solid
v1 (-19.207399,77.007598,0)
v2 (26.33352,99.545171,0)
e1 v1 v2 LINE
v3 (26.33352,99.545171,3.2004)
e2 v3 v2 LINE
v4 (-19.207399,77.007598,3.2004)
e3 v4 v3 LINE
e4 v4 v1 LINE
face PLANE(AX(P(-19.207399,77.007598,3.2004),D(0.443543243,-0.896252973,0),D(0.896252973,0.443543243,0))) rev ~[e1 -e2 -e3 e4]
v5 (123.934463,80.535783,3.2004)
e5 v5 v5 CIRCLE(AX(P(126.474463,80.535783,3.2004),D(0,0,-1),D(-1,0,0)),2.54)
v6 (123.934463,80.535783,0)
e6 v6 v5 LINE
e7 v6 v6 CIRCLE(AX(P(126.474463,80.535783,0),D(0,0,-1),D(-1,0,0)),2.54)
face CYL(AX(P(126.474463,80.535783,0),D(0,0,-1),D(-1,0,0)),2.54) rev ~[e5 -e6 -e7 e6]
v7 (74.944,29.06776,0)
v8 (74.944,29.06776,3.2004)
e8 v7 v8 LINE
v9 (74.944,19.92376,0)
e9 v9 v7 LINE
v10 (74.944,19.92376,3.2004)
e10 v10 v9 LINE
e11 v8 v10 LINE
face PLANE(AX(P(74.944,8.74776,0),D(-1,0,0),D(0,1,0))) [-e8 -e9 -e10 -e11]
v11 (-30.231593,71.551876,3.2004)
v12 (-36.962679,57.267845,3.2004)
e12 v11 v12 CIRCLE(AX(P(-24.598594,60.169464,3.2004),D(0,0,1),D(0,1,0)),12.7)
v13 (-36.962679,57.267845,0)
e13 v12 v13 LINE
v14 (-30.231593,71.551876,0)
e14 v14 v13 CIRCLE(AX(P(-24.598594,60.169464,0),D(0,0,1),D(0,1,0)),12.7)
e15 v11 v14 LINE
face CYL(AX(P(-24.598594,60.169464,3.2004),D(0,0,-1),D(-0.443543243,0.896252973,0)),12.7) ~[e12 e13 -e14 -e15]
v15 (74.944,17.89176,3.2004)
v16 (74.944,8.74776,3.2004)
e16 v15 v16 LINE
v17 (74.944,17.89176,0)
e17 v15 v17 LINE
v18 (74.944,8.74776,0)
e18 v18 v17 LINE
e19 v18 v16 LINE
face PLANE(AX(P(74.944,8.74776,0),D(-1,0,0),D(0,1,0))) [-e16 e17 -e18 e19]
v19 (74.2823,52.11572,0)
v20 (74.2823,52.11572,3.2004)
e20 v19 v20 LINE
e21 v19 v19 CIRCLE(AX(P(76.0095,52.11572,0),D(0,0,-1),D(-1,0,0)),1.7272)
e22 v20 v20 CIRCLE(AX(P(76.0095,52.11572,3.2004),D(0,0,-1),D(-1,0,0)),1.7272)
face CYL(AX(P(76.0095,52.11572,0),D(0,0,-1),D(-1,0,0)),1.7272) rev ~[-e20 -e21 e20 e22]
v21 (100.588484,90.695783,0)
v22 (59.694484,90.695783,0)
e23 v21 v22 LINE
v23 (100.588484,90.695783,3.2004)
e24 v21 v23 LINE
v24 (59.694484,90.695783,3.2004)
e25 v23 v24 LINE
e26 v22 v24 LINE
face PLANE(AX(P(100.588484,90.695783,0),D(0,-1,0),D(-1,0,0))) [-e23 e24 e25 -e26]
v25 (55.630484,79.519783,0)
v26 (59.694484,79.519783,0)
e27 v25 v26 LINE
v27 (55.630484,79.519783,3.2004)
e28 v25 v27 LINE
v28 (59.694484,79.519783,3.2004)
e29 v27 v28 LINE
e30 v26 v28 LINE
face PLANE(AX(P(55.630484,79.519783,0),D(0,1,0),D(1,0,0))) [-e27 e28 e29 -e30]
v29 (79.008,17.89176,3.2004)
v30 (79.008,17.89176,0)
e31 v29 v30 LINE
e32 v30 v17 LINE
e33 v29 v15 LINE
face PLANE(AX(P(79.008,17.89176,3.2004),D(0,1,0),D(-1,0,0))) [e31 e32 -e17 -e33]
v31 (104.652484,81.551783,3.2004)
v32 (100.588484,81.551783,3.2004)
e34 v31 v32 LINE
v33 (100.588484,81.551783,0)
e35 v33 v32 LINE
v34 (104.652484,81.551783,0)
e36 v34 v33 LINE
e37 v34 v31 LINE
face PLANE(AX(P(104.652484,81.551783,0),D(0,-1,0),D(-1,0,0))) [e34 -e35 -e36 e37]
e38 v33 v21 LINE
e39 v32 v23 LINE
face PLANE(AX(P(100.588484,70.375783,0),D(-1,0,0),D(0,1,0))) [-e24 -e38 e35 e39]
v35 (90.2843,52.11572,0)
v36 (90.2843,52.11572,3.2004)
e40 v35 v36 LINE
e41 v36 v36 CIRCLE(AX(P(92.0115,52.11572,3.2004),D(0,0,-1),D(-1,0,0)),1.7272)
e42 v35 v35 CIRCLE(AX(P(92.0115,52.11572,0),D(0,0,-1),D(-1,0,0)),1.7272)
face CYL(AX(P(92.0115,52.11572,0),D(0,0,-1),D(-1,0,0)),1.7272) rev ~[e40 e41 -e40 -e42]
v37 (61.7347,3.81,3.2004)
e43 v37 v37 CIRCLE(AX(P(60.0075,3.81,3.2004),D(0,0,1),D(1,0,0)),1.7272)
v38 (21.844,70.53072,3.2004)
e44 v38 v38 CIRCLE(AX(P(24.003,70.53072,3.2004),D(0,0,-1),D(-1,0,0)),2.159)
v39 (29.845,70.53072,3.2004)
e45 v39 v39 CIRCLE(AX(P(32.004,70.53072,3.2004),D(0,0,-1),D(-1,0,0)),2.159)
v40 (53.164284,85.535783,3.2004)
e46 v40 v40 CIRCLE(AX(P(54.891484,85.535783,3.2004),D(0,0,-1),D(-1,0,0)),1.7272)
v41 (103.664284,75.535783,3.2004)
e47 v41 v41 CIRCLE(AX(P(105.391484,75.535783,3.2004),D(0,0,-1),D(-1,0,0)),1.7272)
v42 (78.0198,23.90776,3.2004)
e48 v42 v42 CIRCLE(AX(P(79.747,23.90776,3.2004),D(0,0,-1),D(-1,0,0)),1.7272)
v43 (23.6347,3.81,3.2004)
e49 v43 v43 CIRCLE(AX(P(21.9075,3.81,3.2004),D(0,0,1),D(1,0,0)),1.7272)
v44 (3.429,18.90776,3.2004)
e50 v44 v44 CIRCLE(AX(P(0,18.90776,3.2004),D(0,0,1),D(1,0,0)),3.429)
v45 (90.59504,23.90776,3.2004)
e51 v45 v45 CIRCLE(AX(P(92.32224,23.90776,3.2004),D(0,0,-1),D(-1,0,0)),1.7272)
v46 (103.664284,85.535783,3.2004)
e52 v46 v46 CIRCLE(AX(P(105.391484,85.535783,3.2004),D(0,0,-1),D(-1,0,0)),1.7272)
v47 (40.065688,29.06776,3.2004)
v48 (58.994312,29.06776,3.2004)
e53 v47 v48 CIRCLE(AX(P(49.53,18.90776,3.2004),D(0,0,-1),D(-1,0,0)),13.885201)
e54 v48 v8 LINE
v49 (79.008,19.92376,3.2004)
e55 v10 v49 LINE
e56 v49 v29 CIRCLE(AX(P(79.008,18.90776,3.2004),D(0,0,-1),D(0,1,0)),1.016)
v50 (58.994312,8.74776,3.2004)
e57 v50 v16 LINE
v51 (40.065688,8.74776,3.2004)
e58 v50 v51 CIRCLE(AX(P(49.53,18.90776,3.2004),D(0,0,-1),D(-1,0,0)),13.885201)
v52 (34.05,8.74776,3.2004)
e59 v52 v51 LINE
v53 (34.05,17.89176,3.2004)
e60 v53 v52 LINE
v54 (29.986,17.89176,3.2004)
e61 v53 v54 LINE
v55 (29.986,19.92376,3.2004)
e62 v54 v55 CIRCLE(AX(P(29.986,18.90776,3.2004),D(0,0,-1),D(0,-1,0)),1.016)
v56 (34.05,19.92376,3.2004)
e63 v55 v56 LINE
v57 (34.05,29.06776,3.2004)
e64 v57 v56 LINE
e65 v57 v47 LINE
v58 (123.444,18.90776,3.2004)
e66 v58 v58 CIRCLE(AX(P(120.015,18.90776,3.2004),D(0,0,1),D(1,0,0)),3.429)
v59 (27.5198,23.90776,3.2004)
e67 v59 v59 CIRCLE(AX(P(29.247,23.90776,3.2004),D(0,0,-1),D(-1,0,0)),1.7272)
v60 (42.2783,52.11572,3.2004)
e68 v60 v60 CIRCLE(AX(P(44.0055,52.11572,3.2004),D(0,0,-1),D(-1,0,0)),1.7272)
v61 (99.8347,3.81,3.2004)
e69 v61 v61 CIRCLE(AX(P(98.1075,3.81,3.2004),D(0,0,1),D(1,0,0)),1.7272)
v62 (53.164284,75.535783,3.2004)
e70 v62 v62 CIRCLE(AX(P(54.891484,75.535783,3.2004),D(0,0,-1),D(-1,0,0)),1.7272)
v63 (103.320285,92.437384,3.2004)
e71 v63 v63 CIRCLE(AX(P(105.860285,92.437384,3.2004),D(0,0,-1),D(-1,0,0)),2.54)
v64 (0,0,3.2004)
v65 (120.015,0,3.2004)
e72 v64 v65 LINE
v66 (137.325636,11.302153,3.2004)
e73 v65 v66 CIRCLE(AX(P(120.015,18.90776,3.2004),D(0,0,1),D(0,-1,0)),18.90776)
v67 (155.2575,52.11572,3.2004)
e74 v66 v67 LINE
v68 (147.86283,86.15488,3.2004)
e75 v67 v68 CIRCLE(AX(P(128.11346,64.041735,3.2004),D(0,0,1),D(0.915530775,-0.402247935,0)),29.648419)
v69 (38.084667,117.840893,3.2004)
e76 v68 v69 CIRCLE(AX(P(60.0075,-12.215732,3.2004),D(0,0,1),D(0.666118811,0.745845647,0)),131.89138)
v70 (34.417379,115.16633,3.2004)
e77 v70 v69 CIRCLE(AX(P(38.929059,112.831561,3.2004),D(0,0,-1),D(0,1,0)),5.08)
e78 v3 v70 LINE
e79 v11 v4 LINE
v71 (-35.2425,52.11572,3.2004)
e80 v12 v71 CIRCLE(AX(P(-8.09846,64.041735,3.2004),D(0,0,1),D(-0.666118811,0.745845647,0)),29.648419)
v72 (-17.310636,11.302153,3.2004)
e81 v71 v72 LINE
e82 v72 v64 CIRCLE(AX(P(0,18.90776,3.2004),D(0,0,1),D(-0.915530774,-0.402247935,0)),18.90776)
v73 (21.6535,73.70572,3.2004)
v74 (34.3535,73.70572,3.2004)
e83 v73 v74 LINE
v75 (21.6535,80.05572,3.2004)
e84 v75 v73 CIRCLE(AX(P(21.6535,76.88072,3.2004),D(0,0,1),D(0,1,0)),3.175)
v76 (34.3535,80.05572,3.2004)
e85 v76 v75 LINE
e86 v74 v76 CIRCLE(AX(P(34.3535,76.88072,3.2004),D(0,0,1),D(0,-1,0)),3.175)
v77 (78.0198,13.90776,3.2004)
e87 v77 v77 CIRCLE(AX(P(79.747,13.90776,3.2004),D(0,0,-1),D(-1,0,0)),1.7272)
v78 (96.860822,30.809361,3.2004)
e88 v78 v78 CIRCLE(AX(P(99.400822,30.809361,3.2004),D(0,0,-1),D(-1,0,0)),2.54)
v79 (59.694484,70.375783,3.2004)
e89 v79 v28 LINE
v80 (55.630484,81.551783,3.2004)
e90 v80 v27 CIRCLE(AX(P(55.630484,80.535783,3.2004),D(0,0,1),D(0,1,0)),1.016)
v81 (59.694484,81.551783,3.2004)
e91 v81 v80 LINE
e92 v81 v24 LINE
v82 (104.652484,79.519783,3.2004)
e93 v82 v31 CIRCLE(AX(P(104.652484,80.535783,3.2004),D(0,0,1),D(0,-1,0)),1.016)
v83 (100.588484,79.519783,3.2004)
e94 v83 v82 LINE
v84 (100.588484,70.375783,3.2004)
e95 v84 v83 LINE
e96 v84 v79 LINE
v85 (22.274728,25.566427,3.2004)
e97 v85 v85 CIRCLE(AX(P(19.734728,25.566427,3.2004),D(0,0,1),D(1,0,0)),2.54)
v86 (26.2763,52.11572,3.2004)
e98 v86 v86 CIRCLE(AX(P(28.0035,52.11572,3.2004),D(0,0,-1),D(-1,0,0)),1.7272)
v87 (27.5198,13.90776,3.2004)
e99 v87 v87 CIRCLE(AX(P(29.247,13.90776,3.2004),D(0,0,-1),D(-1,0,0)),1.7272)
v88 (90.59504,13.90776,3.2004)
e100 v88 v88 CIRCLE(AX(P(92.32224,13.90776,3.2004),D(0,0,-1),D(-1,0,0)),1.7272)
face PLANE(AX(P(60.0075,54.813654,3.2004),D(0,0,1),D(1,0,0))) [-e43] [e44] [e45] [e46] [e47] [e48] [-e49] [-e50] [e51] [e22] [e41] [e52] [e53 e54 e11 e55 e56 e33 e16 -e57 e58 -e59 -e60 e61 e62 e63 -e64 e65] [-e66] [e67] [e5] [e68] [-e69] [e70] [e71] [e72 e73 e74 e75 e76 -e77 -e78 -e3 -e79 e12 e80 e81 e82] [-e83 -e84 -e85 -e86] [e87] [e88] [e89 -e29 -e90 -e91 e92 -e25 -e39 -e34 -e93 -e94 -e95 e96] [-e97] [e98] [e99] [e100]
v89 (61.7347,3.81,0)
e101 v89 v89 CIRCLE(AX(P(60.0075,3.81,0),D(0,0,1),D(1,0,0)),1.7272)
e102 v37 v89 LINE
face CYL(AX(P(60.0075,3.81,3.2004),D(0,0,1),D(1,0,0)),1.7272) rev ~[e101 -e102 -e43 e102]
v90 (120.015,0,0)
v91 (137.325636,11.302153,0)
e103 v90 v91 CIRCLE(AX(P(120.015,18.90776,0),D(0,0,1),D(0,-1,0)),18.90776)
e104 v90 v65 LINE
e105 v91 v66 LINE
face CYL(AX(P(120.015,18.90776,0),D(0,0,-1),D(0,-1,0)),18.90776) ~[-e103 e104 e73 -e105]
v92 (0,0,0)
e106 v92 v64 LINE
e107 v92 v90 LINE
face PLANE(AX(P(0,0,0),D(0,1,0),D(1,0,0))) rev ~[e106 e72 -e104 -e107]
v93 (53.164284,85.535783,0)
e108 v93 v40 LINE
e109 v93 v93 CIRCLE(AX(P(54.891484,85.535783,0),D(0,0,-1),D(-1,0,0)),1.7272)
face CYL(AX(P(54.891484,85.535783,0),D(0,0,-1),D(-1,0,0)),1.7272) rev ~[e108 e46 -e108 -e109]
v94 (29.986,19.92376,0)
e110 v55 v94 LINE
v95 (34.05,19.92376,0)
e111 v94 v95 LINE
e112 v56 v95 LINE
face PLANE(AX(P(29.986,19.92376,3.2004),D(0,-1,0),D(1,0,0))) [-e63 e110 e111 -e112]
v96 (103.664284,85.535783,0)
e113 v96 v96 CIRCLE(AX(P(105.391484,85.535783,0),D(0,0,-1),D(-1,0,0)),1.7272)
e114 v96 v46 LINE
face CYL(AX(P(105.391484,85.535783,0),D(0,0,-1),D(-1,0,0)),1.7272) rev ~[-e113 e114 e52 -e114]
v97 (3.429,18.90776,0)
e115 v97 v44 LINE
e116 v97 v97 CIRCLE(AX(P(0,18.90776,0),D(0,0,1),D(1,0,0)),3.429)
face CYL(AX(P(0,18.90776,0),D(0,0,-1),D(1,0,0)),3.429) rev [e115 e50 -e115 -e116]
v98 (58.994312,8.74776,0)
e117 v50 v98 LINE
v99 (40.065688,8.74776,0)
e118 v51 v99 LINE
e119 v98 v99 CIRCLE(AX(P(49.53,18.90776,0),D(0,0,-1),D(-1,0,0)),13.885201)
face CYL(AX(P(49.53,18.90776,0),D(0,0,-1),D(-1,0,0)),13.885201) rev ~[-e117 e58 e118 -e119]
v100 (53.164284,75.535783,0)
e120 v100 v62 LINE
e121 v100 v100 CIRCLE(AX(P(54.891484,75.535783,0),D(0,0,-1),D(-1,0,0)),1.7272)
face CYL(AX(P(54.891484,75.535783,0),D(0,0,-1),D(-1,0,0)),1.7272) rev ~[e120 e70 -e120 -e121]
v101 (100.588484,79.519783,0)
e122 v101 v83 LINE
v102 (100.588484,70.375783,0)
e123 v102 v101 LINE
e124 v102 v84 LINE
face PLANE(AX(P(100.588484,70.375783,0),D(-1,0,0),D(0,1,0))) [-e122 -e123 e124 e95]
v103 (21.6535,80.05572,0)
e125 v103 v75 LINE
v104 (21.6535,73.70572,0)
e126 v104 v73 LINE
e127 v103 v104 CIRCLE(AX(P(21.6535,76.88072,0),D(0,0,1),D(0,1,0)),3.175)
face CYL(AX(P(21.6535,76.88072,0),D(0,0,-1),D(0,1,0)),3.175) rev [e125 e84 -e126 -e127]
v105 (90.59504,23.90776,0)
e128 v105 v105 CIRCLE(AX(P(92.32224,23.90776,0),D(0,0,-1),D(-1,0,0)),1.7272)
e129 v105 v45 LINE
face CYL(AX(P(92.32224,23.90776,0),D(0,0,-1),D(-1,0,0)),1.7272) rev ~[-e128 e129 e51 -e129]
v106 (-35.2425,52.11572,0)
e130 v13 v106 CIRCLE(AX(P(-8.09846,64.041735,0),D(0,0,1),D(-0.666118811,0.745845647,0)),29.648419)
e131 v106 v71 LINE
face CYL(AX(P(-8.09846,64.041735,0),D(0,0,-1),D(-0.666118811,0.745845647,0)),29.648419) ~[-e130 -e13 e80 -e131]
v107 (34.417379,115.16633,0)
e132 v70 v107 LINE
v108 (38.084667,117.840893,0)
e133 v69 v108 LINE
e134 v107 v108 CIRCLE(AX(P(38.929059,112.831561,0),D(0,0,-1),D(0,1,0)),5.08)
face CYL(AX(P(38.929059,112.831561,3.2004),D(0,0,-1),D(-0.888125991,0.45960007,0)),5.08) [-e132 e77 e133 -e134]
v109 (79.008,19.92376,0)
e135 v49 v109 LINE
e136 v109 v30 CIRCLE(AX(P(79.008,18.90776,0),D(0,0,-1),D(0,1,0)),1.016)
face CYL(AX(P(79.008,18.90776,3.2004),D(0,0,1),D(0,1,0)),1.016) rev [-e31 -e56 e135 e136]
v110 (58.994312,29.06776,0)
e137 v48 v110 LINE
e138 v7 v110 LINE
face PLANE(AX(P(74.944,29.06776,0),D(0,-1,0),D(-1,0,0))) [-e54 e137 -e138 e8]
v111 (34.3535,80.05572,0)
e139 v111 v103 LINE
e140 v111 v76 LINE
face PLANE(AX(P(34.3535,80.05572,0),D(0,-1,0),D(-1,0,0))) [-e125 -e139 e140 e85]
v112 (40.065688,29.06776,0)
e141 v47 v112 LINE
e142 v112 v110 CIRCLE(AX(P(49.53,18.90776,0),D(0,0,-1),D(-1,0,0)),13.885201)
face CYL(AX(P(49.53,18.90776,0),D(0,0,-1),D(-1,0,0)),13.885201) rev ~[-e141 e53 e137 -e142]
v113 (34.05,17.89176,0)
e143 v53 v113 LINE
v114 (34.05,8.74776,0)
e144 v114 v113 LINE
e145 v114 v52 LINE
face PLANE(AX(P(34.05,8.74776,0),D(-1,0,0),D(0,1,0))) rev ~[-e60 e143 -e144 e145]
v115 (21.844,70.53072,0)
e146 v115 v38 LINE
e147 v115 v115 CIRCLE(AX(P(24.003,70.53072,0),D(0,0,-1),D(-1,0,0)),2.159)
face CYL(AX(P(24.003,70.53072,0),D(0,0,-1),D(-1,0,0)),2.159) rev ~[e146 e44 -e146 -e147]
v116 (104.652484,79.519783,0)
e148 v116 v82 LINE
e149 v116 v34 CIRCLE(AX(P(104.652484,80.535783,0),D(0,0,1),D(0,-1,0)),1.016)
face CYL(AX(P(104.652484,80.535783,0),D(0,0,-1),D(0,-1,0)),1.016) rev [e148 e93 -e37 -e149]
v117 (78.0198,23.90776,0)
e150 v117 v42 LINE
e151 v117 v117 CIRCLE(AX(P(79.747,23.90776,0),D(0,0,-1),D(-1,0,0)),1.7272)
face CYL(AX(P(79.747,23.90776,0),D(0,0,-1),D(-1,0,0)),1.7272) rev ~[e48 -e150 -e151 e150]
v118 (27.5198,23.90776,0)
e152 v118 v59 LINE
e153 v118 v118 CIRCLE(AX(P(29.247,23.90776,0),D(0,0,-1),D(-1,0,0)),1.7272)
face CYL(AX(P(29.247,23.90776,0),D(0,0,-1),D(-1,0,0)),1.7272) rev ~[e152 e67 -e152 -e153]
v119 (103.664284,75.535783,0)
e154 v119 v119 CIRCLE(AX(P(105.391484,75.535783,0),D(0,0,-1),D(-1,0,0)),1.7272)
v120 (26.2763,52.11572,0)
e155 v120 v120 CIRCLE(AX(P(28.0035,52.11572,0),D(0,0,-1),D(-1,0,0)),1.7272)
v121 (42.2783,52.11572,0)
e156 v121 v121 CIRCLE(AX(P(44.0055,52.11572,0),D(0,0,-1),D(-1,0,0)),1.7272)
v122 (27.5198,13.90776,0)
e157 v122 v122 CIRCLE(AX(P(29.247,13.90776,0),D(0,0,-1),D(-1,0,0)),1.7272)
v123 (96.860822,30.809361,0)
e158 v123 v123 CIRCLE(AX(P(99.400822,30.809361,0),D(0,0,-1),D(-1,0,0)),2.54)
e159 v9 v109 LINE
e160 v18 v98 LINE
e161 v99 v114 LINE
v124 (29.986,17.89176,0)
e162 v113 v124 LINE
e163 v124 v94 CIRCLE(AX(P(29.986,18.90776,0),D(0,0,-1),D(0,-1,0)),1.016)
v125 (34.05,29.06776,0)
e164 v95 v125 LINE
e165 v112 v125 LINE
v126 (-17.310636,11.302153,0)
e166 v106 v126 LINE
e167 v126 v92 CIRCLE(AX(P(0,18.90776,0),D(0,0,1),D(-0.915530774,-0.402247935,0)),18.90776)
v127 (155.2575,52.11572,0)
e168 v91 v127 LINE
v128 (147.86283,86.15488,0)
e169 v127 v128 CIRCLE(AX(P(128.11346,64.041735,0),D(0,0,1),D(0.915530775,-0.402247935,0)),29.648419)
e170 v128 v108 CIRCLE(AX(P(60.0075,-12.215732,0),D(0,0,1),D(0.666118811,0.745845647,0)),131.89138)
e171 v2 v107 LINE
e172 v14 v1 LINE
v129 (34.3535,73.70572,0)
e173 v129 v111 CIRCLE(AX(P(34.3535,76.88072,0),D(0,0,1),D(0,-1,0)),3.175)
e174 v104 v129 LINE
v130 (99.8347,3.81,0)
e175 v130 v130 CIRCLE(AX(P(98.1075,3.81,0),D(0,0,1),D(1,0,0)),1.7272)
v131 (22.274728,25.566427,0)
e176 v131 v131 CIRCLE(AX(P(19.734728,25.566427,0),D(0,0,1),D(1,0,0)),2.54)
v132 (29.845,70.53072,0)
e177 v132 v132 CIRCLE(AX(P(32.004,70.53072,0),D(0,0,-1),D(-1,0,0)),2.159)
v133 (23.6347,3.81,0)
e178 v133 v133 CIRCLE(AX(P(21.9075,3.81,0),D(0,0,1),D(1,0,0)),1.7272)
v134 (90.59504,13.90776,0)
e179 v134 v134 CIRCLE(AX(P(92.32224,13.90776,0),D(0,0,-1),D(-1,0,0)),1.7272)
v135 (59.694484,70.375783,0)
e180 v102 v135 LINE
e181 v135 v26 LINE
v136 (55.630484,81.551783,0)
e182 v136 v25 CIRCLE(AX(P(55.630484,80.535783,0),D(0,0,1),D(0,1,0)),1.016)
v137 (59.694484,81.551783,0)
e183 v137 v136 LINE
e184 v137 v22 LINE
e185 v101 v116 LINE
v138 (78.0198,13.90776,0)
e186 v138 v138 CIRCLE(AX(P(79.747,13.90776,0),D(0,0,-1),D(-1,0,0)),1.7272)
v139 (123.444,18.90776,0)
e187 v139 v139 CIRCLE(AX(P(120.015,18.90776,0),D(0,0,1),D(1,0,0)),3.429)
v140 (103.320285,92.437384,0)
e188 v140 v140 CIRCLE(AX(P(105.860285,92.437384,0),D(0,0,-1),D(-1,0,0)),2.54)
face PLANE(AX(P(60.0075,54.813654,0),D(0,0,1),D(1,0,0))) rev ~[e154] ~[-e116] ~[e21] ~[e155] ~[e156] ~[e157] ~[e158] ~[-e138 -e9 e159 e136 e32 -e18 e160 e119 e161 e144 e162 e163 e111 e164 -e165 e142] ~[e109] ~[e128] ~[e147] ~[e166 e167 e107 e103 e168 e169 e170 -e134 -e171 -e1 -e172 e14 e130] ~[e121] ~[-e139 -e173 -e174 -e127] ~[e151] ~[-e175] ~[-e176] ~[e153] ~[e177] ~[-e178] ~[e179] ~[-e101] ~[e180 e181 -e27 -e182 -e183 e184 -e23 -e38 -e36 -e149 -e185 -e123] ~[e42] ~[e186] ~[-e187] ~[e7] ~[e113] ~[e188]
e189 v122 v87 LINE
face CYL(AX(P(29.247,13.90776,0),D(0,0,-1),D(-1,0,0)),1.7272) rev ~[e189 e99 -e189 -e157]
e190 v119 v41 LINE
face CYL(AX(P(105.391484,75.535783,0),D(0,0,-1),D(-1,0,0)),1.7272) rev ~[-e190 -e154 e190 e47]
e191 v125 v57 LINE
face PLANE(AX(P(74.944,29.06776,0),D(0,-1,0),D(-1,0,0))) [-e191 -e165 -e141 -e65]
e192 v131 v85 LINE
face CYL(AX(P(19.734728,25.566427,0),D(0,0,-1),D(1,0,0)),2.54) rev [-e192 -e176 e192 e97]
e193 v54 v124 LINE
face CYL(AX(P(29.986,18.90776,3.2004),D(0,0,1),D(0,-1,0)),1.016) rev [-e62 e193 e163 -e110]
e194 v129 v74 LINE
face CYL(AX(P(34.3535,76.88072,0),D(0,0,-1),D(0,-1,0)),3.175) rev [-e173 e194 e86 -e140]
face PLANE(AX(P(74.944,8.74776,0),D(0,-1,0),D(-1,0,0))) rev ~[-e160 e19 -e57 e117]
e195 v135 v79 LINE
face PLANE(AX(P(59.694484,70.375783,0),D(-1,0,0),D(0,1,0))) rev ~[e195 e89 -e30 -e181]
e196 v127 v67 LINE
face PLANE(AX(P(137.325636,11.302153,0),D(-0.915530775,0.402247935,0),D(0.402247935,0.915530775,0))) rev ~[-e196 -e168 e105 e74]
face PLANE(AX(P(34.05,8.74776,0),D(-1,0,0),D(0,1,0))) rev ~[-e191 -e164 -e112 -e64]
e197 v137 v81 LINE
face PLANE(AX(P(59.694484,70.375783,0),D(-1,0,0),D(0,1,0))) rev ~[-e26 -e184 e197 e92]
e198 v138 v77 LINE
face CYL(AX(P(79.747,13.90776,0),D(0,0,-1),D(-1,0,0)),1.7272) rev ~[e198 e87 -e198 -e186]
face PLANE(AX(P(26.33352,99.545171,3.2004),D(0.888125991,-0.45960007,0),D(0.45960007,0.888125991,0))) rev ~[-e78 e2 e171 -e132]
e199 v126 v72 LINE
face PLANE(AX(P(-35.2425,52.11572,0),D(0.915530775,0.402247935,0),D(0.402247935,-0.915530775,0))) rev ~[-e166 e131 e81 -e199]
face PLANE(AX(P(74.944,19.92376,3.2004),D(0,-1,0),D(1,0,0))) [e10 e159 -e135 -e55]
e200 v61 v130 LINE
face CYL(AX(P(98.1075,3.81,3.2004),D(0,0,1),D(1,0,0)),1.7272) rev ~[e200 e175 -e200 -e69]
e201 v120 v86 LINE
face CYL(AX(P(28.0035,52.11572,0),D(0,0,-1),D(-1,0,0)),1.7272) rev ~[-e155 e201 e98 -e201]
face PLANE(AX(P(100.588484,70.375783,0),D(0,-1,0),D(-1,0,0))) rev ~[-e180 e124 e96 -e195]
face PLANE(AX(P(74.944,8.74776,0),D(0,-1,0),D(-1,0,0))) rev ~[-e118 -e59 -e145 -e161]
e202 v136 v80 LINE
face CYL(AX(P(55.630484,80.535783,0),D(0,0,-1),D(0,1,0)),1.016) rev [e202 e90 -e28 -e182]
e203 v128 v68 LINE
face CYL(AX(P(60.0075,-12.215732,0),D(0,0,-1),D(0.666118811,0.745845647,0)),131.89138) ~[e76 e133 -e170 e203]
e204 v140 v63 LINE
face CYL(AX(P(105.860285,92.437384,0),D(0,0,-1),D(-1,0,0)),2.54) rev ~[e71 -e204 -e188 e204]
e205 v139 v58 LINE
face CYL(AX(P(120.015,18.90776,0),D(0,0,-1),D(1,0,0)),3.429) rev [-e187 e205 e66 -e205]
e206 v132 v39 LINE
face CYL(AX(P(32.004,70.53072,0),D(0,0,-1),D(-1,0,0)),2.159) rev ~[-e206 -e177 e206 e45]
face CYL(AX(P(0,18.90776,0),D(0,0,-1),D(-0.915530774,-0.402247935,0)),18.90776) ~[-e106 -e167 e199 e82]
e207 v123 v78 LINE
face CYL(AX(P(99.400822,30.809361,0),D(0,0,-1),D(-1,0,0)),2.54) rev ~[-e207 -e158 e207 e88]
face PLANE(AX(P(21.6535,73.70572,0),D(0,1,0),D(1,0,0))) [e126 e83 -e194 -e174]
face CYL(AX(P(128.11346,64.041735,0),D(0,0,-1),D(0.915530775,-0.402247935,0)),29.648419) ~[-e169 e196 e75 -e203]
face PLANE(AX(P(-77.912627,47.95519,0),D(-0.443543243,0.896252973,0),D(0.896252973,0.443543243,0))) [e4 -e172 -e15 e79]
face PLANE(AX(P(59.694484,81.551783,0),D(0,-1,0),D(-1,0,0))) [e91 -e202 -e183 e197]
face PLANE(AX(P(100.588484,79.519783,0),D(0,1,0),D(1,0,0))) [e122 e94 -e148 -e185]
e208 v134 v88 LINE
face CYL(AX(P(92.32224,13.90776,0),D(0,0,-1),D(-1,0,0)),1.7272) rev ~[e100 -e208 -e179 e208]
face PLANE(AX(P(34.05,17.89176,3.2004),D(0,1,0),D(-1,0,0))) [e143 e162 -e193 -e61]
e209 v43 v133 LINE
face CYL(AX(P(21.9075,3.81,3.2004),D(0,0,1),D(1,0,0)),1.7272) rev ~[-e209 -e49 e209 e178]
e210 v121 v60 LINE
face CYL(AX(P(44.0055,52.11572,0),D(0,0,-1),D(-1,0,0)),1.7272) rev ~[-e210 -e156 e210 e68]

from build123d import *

# Parameters (mm, degrees)
SKETCH1_R           = 3.429
SKETCH1_R_2         = 2.54
BOSS_EXTRUDE1_DEPTH = 3.2004
SKETCH2_R           = 1.7272
CUT_EXTRUDE1_DEPTH  = 3.2004
SKETCH5_R           = 1.7272
SKETCH5_W           = 40.894
SKETCH5_H           = 20.32
CUT_EXTRUDE3_DEPTH  = 4.2004
CUT_EXTRUDE4_DEPTH  = 3.2004
SKETCH8_R           = 1.7272
CUT_EXTRUDE6_DEPTH  = 3.2004
SKETCH9_R           = 1.7272
SKETCH9_R_2         = 2.54
SKETCH9_W           = 40.894
SKETCH9_H           = 20.32
CUT_EXTRUDE8_DEPTH  = 3.2004
CUT_EXTRUDE9_DEPTH  = 3.2004
FILLET1_R           = 5.08
SKETCH11_R          = 2.159
CUT_EXTRUDE10_DEPTH = 3.2004
CUT_EXTRUDE11_DEPTH = 3.2004
SKETCH13_R          = 13.885201093
CUT_EXTRUDE12_DEPTH = 3.2004
SKETCH14_R          = 2.54
CUT_EXTRUDE13_DEPTH = 3.2004
CUT_EXTRUDE14_DEPTH = 3.2004
FILLET2_R           = 12.7


with BuildPart() as part:
    # Sketch1 → Boss-Extrude1 (new body)
    with BuildSketch(Plane.XY):
        with BuildLine():
            Line((0, 0), (120.015, 0))
            ThreePointArc((120.015, 0), (130.351788396, 3.075697789), (137.325636158, 11.302152592))
            Line((137.325636158, 11.302152592), (155.2575, 52.11572))
            ThreePointArc((155.2575, 52.11572), (157.08610336, 70.335755455), (147.862829504, 86.154880008))
            ThreePointArc((147.862829504, 86.154880008), (60.0075, 119.675648416), (-27.847829504, 86.154880008))
            ThreePointArc((-27.847829504, 86.154880008), (-37.07110336, 70.335755455), (-35.2425, 52.11572))
            Line((-35.2425, 52.11572), (-17.310636158, 11.302152592))
            ThreePointArc((-17.310636158, 11.302152592), (-10.336788396, 3.075697789), (0, 0))
        make_face()
        with Locations((120.015, 18.90776)):
            Circle(SKETCH1_R, mode=Mode.SUBTRACT)
        with Locations((0, 18.90776)):
            Circle(SKETCH1_R, mode=Mode.SUBTRACT)
        with Locations((19.734727626, 25.566426992)):
            Circle(SKETCH1_R_2, mode=Mode.SUBTRACT)
    extrude(amount=BOSS_EXTRUDE1_DEPTH)

    # Sketch2 → Cut-Extrude1 (cut)
    with BuildSketch(Plane(origin=(0, 0, 0), x_dir=(-1, 0, 0), z_dir=(0, 0, -1))):
        with Locations((-92.0115, 52.11572)):
            Circle(SKETCH2_R)
        with Locations((-76.0095, 52.11572)):
            Circle(SKETCH2_R)
        with Locations((-44.0055, 52.11572)):
            Circle(SKETCH2_R)
        with Locations((-28.0035, 52.11572)):
            Circle(SKETCH2_R)
    extrude(amount=-CUT_EXTRUDE1_DEPTH, mode=Mode.SUBTRACT)

    # Sketch5 → Cut-Extrude3 (cut, through all)
    with BuildSketch(Plane(origin=(0, 0, 0), x_dir=(-1, 0, 0), z_dir=(0, 0, -1))):
        with Locations((-79.746999972, 23.90776)):
            Circle(SKETCH5_R)
        with Locations((-29.246999972, 13.90776)):
            Circle(SKETCH5_R)
        with Locations((-29.246999972, 23.90776)):
            Circle(SKETCH5_R)
        with Locations((-79.746999972, 13.90776)):
            Circle(SKETCH5_R)
        with Locations((-92.322240346, 23.90776)):
            Circle(SKETCH5_R)
        with Locations((-92.322240346, 13.90776)):
            Circle(SKETCH5_R)
        with Locations((-54.496999972, 18.90776)):
            Rectangle(SKETCH5_W, SKETCH5_H)
    extrude(amount=-CUT_EXTRUDE3_DEPTH, mode=Mode.SUBTRACT)

    # Sketch6 → Cut-Extrude4 (cut)
    with BuildSketch(Plane.XY.offset(3.2004)):
        with BuildLine():
            Line((29.985999972, 19.92376), (34.049999972, 19.92376))
            Line((34.049999972, 19.92376), (34.049999972, 17.89176))
            Line((34.049999972, 17.89176), (29.985999972, 17.89176))
            ThreePointArc((29.985999972, 17.89176), (28.969999972, 18.90776), (29.985999972, 19.92376))
        make_face()
        with BuildLine():
            Line((74.943999972, 19.92376), (79.007999972, 19.92376))
            ThreePointArc((79.007999972, 19.92376), (80.023999972, 18.90776), (79.007999972, 17.89176))
            Line((79.007999972, 17.89176), (74.943999972, 17.89176))
            Line((74.943999972, 17.89176), (74.943999972, 19.92376))
        make_face()
    extrude(amount=-CUT_EXTRUDE4_DEPTH, mode=Mode.SUBTRACT)

    # Sketch8 → Cut-Extrude6 (cut)
    with BuildSketch(Plane.XY.offset(3.2004)):
        with Locations((21.9075, 3.81)):
            Circle(SKETCH8_R)
        with Locations((60.0075, 3.81)):
            Circle(SKETCH8_R)
        with Locations((98.1075, 3.81)):
            Circle(SKETCH8_R)
    extrude(amount=-CUT_EXTRUDE6_DEPTH, mode=Mode.SUBTRACT)

    # Sketch9 → Cut-Extrude8 (cut)
    with BuildSketch(Plane(origin=(0, 0, 0), x_dir=(-1, 0, 0), z_dir=(0, 0, -1))):
        with Locations((-105.391483991, 85.535782838)):
            Circle(SKETCH9_R)
        with Locations((-105.860285109, 92.437383775)):
            Circle(SKETCH9_R_2)
        with Locations((-54.891483991, 75.535782838)):
            Circle(SKETCH9_R)
        with Locations((-54.891483991, 85.535782838)):
            Circle(SKETCH9_R)
        with Locations((-105.391483991, 75.535782838)):
            Circle(SKETCH9_R)
        with Locations((-126.474462623, 80.535782838)):
            Circle(SKETCH9_R_2)
        with Locations((-80.141483991, 80.535782838)):
            Rectangle(SKETCH9_W, SKETCH9_H)
    extrude(amount=-CUT_EXTRUDE8_DEPTH, mode=Mode.SUBTRACT)

    # Sketch10 → Cut-Extrude9 (cut)
    with BuildSketch(Plane.XY.offset(3.2004)):
        with BuildLine():
            Line((-24.96979716, 88.651483667), (-19.207398738, 77.007598217))
            Line((-19.207398738, 77.007598217), (26.33351958, 99.545171003))
            Line((26.33351958, 99.545171003), (35.569015789, 117.391739689))
            ThreePointArc((35.569015789, 117.391739689), (3.443784755, 106.930742334), (-24.96979716, 88.651483667))
        make_face()
    extrude(amount=-CUT_EXTRUDE9_DEPTH, mode=Mode.SUBTRACT)

    # Fillet1
    fillet1_edges = [part.edges().sort_by_distance(p)[0] for p in [
        (35.569015789, 117.391739689, 1.6002),
        (-24.96979716, 88.651483667, 1.6002),
    ]]
    fillet(fillet1_edges, radius=FILLET1_R)

    # Sketch11 → Cut-Extrude10 (cut)
    with BuildSketch(Plane(origin=(0, 0, 0), x_dir=(-1, 0, 0), z_dir=(0, 0, -1))):
        with Locations((-32.004, 70.53072)):
            Circle(SKETCH11_R)
        with Locations((-24.003, 70.53072)):
            Circle(SKETCH11_R)
        with BuildLine():
            Line((-34.3535, 80.05572), (-21.6535, 80.05572))
            ThreePointArc((-21.6535, 80.05572), (-18.4785, 76.88072), (-21.6535, 73.70572))
            Line((-21.6535, 73.70572), (-34.3535, 73.70572))
            ThreePointArc((-34.3535, 73.70572), (-37.5285, 76.88072), (-34.3535, 80.05572))
        make_face()
    extrude(amount=-CUT_EXTRUDE10_DEPTH, mode=Mode.SUBTRACT)

    # Sketch12 → Cut-Extrude11 (cut)
    with BuildSketch(Plane(origin=(0, 0, 0), x_dir=(-1, 0, 0), z_dir=(0, 0, -1))):
        with BuildLine():
            Line((-104.652483991, 81.551782838), (-100.588483991, 81.551782838))
            Line((-100.588483991, 81.551782838), (-100.588483991, 79.519782838))
            Line((-100.588483991, 79.519782838), (-104.652483991, 79.519782838))
            ThreePointArc((-104.652483991, 79.519782838), (-105.668483991, 80.535782838), (-104.652483991, 81.551782838))
        make_face()
        with BuildLine():
            Line((-59.694483991, 81.551782838), (-55.630483991, 81.551782838))
            ThreePointArc((-55.630483991, 81.551782838), (-54.614483991, 80.535782838), (-55.630483991, 79.519782838))
            Line((-55.630483991, 79.519782838), (-59.694483991, 79.519782838))
            Line((-59.694483991, 79.519782838), (-59.694483991, 81.551782838))
        make_face()
    extrude(amount=-CUT_EXTRUDE11_DEPTH, mode=Mode.SUBTRACT)

    # Sketch13 → Cut-Extrude12 (cut)
    with BuildSketch(Plane(origin=(0, 0, 0), x_dir=(-1, 0, 0), z_dir=(0, 0, -1))):
        with Locations((-49.53, 18.90776)):
            Circle(SKETCH13_R)
    extrude(amount=-CUT_EXTRUDE12_DEPTH, mode=Mode.SUBTRACT)

    # Sketch14 → Cut-Extrude13 (cut)
    with BuildSketch(Plane(origin=(0, 0, 0), x_dir=(-1, 0, 0), z_dir=(0, 0, -1))):
        with Locations((-99.400822485, 30.809360937)):
            Circle(SKETCH14_R)
    extrude(amount=-CUT_EXTRUDE13_DEPTH, mode=Mode.SUBTRACT)

    # Sketch15 → Cut-Extrude14 (cut)
    with BuildSketch(Plane(origin=(0, 0, 0), x_dir=(-1, 0, 0), z_dir=(0, 0, -1))):
        Polygon((33.771104783, 106.435991135), (93.302614335, 68.041010777), (77.912627241, 47.955189764), (19.207398738, 77.007598217), align=None)
    extrude(amount=-CUT_EXTRUDE14_DEPTH, mode=Mode.SUBTRACT)

    # Fillet2
    fillet2_edges = [part.edges().sort_by_distance(p)[0] for p in [
        (-37.48662973, 67.961458741, 1.6002),
    ]]
    fillet(fillet2_edges, radius=FILLET2_R)


solid = part.part
